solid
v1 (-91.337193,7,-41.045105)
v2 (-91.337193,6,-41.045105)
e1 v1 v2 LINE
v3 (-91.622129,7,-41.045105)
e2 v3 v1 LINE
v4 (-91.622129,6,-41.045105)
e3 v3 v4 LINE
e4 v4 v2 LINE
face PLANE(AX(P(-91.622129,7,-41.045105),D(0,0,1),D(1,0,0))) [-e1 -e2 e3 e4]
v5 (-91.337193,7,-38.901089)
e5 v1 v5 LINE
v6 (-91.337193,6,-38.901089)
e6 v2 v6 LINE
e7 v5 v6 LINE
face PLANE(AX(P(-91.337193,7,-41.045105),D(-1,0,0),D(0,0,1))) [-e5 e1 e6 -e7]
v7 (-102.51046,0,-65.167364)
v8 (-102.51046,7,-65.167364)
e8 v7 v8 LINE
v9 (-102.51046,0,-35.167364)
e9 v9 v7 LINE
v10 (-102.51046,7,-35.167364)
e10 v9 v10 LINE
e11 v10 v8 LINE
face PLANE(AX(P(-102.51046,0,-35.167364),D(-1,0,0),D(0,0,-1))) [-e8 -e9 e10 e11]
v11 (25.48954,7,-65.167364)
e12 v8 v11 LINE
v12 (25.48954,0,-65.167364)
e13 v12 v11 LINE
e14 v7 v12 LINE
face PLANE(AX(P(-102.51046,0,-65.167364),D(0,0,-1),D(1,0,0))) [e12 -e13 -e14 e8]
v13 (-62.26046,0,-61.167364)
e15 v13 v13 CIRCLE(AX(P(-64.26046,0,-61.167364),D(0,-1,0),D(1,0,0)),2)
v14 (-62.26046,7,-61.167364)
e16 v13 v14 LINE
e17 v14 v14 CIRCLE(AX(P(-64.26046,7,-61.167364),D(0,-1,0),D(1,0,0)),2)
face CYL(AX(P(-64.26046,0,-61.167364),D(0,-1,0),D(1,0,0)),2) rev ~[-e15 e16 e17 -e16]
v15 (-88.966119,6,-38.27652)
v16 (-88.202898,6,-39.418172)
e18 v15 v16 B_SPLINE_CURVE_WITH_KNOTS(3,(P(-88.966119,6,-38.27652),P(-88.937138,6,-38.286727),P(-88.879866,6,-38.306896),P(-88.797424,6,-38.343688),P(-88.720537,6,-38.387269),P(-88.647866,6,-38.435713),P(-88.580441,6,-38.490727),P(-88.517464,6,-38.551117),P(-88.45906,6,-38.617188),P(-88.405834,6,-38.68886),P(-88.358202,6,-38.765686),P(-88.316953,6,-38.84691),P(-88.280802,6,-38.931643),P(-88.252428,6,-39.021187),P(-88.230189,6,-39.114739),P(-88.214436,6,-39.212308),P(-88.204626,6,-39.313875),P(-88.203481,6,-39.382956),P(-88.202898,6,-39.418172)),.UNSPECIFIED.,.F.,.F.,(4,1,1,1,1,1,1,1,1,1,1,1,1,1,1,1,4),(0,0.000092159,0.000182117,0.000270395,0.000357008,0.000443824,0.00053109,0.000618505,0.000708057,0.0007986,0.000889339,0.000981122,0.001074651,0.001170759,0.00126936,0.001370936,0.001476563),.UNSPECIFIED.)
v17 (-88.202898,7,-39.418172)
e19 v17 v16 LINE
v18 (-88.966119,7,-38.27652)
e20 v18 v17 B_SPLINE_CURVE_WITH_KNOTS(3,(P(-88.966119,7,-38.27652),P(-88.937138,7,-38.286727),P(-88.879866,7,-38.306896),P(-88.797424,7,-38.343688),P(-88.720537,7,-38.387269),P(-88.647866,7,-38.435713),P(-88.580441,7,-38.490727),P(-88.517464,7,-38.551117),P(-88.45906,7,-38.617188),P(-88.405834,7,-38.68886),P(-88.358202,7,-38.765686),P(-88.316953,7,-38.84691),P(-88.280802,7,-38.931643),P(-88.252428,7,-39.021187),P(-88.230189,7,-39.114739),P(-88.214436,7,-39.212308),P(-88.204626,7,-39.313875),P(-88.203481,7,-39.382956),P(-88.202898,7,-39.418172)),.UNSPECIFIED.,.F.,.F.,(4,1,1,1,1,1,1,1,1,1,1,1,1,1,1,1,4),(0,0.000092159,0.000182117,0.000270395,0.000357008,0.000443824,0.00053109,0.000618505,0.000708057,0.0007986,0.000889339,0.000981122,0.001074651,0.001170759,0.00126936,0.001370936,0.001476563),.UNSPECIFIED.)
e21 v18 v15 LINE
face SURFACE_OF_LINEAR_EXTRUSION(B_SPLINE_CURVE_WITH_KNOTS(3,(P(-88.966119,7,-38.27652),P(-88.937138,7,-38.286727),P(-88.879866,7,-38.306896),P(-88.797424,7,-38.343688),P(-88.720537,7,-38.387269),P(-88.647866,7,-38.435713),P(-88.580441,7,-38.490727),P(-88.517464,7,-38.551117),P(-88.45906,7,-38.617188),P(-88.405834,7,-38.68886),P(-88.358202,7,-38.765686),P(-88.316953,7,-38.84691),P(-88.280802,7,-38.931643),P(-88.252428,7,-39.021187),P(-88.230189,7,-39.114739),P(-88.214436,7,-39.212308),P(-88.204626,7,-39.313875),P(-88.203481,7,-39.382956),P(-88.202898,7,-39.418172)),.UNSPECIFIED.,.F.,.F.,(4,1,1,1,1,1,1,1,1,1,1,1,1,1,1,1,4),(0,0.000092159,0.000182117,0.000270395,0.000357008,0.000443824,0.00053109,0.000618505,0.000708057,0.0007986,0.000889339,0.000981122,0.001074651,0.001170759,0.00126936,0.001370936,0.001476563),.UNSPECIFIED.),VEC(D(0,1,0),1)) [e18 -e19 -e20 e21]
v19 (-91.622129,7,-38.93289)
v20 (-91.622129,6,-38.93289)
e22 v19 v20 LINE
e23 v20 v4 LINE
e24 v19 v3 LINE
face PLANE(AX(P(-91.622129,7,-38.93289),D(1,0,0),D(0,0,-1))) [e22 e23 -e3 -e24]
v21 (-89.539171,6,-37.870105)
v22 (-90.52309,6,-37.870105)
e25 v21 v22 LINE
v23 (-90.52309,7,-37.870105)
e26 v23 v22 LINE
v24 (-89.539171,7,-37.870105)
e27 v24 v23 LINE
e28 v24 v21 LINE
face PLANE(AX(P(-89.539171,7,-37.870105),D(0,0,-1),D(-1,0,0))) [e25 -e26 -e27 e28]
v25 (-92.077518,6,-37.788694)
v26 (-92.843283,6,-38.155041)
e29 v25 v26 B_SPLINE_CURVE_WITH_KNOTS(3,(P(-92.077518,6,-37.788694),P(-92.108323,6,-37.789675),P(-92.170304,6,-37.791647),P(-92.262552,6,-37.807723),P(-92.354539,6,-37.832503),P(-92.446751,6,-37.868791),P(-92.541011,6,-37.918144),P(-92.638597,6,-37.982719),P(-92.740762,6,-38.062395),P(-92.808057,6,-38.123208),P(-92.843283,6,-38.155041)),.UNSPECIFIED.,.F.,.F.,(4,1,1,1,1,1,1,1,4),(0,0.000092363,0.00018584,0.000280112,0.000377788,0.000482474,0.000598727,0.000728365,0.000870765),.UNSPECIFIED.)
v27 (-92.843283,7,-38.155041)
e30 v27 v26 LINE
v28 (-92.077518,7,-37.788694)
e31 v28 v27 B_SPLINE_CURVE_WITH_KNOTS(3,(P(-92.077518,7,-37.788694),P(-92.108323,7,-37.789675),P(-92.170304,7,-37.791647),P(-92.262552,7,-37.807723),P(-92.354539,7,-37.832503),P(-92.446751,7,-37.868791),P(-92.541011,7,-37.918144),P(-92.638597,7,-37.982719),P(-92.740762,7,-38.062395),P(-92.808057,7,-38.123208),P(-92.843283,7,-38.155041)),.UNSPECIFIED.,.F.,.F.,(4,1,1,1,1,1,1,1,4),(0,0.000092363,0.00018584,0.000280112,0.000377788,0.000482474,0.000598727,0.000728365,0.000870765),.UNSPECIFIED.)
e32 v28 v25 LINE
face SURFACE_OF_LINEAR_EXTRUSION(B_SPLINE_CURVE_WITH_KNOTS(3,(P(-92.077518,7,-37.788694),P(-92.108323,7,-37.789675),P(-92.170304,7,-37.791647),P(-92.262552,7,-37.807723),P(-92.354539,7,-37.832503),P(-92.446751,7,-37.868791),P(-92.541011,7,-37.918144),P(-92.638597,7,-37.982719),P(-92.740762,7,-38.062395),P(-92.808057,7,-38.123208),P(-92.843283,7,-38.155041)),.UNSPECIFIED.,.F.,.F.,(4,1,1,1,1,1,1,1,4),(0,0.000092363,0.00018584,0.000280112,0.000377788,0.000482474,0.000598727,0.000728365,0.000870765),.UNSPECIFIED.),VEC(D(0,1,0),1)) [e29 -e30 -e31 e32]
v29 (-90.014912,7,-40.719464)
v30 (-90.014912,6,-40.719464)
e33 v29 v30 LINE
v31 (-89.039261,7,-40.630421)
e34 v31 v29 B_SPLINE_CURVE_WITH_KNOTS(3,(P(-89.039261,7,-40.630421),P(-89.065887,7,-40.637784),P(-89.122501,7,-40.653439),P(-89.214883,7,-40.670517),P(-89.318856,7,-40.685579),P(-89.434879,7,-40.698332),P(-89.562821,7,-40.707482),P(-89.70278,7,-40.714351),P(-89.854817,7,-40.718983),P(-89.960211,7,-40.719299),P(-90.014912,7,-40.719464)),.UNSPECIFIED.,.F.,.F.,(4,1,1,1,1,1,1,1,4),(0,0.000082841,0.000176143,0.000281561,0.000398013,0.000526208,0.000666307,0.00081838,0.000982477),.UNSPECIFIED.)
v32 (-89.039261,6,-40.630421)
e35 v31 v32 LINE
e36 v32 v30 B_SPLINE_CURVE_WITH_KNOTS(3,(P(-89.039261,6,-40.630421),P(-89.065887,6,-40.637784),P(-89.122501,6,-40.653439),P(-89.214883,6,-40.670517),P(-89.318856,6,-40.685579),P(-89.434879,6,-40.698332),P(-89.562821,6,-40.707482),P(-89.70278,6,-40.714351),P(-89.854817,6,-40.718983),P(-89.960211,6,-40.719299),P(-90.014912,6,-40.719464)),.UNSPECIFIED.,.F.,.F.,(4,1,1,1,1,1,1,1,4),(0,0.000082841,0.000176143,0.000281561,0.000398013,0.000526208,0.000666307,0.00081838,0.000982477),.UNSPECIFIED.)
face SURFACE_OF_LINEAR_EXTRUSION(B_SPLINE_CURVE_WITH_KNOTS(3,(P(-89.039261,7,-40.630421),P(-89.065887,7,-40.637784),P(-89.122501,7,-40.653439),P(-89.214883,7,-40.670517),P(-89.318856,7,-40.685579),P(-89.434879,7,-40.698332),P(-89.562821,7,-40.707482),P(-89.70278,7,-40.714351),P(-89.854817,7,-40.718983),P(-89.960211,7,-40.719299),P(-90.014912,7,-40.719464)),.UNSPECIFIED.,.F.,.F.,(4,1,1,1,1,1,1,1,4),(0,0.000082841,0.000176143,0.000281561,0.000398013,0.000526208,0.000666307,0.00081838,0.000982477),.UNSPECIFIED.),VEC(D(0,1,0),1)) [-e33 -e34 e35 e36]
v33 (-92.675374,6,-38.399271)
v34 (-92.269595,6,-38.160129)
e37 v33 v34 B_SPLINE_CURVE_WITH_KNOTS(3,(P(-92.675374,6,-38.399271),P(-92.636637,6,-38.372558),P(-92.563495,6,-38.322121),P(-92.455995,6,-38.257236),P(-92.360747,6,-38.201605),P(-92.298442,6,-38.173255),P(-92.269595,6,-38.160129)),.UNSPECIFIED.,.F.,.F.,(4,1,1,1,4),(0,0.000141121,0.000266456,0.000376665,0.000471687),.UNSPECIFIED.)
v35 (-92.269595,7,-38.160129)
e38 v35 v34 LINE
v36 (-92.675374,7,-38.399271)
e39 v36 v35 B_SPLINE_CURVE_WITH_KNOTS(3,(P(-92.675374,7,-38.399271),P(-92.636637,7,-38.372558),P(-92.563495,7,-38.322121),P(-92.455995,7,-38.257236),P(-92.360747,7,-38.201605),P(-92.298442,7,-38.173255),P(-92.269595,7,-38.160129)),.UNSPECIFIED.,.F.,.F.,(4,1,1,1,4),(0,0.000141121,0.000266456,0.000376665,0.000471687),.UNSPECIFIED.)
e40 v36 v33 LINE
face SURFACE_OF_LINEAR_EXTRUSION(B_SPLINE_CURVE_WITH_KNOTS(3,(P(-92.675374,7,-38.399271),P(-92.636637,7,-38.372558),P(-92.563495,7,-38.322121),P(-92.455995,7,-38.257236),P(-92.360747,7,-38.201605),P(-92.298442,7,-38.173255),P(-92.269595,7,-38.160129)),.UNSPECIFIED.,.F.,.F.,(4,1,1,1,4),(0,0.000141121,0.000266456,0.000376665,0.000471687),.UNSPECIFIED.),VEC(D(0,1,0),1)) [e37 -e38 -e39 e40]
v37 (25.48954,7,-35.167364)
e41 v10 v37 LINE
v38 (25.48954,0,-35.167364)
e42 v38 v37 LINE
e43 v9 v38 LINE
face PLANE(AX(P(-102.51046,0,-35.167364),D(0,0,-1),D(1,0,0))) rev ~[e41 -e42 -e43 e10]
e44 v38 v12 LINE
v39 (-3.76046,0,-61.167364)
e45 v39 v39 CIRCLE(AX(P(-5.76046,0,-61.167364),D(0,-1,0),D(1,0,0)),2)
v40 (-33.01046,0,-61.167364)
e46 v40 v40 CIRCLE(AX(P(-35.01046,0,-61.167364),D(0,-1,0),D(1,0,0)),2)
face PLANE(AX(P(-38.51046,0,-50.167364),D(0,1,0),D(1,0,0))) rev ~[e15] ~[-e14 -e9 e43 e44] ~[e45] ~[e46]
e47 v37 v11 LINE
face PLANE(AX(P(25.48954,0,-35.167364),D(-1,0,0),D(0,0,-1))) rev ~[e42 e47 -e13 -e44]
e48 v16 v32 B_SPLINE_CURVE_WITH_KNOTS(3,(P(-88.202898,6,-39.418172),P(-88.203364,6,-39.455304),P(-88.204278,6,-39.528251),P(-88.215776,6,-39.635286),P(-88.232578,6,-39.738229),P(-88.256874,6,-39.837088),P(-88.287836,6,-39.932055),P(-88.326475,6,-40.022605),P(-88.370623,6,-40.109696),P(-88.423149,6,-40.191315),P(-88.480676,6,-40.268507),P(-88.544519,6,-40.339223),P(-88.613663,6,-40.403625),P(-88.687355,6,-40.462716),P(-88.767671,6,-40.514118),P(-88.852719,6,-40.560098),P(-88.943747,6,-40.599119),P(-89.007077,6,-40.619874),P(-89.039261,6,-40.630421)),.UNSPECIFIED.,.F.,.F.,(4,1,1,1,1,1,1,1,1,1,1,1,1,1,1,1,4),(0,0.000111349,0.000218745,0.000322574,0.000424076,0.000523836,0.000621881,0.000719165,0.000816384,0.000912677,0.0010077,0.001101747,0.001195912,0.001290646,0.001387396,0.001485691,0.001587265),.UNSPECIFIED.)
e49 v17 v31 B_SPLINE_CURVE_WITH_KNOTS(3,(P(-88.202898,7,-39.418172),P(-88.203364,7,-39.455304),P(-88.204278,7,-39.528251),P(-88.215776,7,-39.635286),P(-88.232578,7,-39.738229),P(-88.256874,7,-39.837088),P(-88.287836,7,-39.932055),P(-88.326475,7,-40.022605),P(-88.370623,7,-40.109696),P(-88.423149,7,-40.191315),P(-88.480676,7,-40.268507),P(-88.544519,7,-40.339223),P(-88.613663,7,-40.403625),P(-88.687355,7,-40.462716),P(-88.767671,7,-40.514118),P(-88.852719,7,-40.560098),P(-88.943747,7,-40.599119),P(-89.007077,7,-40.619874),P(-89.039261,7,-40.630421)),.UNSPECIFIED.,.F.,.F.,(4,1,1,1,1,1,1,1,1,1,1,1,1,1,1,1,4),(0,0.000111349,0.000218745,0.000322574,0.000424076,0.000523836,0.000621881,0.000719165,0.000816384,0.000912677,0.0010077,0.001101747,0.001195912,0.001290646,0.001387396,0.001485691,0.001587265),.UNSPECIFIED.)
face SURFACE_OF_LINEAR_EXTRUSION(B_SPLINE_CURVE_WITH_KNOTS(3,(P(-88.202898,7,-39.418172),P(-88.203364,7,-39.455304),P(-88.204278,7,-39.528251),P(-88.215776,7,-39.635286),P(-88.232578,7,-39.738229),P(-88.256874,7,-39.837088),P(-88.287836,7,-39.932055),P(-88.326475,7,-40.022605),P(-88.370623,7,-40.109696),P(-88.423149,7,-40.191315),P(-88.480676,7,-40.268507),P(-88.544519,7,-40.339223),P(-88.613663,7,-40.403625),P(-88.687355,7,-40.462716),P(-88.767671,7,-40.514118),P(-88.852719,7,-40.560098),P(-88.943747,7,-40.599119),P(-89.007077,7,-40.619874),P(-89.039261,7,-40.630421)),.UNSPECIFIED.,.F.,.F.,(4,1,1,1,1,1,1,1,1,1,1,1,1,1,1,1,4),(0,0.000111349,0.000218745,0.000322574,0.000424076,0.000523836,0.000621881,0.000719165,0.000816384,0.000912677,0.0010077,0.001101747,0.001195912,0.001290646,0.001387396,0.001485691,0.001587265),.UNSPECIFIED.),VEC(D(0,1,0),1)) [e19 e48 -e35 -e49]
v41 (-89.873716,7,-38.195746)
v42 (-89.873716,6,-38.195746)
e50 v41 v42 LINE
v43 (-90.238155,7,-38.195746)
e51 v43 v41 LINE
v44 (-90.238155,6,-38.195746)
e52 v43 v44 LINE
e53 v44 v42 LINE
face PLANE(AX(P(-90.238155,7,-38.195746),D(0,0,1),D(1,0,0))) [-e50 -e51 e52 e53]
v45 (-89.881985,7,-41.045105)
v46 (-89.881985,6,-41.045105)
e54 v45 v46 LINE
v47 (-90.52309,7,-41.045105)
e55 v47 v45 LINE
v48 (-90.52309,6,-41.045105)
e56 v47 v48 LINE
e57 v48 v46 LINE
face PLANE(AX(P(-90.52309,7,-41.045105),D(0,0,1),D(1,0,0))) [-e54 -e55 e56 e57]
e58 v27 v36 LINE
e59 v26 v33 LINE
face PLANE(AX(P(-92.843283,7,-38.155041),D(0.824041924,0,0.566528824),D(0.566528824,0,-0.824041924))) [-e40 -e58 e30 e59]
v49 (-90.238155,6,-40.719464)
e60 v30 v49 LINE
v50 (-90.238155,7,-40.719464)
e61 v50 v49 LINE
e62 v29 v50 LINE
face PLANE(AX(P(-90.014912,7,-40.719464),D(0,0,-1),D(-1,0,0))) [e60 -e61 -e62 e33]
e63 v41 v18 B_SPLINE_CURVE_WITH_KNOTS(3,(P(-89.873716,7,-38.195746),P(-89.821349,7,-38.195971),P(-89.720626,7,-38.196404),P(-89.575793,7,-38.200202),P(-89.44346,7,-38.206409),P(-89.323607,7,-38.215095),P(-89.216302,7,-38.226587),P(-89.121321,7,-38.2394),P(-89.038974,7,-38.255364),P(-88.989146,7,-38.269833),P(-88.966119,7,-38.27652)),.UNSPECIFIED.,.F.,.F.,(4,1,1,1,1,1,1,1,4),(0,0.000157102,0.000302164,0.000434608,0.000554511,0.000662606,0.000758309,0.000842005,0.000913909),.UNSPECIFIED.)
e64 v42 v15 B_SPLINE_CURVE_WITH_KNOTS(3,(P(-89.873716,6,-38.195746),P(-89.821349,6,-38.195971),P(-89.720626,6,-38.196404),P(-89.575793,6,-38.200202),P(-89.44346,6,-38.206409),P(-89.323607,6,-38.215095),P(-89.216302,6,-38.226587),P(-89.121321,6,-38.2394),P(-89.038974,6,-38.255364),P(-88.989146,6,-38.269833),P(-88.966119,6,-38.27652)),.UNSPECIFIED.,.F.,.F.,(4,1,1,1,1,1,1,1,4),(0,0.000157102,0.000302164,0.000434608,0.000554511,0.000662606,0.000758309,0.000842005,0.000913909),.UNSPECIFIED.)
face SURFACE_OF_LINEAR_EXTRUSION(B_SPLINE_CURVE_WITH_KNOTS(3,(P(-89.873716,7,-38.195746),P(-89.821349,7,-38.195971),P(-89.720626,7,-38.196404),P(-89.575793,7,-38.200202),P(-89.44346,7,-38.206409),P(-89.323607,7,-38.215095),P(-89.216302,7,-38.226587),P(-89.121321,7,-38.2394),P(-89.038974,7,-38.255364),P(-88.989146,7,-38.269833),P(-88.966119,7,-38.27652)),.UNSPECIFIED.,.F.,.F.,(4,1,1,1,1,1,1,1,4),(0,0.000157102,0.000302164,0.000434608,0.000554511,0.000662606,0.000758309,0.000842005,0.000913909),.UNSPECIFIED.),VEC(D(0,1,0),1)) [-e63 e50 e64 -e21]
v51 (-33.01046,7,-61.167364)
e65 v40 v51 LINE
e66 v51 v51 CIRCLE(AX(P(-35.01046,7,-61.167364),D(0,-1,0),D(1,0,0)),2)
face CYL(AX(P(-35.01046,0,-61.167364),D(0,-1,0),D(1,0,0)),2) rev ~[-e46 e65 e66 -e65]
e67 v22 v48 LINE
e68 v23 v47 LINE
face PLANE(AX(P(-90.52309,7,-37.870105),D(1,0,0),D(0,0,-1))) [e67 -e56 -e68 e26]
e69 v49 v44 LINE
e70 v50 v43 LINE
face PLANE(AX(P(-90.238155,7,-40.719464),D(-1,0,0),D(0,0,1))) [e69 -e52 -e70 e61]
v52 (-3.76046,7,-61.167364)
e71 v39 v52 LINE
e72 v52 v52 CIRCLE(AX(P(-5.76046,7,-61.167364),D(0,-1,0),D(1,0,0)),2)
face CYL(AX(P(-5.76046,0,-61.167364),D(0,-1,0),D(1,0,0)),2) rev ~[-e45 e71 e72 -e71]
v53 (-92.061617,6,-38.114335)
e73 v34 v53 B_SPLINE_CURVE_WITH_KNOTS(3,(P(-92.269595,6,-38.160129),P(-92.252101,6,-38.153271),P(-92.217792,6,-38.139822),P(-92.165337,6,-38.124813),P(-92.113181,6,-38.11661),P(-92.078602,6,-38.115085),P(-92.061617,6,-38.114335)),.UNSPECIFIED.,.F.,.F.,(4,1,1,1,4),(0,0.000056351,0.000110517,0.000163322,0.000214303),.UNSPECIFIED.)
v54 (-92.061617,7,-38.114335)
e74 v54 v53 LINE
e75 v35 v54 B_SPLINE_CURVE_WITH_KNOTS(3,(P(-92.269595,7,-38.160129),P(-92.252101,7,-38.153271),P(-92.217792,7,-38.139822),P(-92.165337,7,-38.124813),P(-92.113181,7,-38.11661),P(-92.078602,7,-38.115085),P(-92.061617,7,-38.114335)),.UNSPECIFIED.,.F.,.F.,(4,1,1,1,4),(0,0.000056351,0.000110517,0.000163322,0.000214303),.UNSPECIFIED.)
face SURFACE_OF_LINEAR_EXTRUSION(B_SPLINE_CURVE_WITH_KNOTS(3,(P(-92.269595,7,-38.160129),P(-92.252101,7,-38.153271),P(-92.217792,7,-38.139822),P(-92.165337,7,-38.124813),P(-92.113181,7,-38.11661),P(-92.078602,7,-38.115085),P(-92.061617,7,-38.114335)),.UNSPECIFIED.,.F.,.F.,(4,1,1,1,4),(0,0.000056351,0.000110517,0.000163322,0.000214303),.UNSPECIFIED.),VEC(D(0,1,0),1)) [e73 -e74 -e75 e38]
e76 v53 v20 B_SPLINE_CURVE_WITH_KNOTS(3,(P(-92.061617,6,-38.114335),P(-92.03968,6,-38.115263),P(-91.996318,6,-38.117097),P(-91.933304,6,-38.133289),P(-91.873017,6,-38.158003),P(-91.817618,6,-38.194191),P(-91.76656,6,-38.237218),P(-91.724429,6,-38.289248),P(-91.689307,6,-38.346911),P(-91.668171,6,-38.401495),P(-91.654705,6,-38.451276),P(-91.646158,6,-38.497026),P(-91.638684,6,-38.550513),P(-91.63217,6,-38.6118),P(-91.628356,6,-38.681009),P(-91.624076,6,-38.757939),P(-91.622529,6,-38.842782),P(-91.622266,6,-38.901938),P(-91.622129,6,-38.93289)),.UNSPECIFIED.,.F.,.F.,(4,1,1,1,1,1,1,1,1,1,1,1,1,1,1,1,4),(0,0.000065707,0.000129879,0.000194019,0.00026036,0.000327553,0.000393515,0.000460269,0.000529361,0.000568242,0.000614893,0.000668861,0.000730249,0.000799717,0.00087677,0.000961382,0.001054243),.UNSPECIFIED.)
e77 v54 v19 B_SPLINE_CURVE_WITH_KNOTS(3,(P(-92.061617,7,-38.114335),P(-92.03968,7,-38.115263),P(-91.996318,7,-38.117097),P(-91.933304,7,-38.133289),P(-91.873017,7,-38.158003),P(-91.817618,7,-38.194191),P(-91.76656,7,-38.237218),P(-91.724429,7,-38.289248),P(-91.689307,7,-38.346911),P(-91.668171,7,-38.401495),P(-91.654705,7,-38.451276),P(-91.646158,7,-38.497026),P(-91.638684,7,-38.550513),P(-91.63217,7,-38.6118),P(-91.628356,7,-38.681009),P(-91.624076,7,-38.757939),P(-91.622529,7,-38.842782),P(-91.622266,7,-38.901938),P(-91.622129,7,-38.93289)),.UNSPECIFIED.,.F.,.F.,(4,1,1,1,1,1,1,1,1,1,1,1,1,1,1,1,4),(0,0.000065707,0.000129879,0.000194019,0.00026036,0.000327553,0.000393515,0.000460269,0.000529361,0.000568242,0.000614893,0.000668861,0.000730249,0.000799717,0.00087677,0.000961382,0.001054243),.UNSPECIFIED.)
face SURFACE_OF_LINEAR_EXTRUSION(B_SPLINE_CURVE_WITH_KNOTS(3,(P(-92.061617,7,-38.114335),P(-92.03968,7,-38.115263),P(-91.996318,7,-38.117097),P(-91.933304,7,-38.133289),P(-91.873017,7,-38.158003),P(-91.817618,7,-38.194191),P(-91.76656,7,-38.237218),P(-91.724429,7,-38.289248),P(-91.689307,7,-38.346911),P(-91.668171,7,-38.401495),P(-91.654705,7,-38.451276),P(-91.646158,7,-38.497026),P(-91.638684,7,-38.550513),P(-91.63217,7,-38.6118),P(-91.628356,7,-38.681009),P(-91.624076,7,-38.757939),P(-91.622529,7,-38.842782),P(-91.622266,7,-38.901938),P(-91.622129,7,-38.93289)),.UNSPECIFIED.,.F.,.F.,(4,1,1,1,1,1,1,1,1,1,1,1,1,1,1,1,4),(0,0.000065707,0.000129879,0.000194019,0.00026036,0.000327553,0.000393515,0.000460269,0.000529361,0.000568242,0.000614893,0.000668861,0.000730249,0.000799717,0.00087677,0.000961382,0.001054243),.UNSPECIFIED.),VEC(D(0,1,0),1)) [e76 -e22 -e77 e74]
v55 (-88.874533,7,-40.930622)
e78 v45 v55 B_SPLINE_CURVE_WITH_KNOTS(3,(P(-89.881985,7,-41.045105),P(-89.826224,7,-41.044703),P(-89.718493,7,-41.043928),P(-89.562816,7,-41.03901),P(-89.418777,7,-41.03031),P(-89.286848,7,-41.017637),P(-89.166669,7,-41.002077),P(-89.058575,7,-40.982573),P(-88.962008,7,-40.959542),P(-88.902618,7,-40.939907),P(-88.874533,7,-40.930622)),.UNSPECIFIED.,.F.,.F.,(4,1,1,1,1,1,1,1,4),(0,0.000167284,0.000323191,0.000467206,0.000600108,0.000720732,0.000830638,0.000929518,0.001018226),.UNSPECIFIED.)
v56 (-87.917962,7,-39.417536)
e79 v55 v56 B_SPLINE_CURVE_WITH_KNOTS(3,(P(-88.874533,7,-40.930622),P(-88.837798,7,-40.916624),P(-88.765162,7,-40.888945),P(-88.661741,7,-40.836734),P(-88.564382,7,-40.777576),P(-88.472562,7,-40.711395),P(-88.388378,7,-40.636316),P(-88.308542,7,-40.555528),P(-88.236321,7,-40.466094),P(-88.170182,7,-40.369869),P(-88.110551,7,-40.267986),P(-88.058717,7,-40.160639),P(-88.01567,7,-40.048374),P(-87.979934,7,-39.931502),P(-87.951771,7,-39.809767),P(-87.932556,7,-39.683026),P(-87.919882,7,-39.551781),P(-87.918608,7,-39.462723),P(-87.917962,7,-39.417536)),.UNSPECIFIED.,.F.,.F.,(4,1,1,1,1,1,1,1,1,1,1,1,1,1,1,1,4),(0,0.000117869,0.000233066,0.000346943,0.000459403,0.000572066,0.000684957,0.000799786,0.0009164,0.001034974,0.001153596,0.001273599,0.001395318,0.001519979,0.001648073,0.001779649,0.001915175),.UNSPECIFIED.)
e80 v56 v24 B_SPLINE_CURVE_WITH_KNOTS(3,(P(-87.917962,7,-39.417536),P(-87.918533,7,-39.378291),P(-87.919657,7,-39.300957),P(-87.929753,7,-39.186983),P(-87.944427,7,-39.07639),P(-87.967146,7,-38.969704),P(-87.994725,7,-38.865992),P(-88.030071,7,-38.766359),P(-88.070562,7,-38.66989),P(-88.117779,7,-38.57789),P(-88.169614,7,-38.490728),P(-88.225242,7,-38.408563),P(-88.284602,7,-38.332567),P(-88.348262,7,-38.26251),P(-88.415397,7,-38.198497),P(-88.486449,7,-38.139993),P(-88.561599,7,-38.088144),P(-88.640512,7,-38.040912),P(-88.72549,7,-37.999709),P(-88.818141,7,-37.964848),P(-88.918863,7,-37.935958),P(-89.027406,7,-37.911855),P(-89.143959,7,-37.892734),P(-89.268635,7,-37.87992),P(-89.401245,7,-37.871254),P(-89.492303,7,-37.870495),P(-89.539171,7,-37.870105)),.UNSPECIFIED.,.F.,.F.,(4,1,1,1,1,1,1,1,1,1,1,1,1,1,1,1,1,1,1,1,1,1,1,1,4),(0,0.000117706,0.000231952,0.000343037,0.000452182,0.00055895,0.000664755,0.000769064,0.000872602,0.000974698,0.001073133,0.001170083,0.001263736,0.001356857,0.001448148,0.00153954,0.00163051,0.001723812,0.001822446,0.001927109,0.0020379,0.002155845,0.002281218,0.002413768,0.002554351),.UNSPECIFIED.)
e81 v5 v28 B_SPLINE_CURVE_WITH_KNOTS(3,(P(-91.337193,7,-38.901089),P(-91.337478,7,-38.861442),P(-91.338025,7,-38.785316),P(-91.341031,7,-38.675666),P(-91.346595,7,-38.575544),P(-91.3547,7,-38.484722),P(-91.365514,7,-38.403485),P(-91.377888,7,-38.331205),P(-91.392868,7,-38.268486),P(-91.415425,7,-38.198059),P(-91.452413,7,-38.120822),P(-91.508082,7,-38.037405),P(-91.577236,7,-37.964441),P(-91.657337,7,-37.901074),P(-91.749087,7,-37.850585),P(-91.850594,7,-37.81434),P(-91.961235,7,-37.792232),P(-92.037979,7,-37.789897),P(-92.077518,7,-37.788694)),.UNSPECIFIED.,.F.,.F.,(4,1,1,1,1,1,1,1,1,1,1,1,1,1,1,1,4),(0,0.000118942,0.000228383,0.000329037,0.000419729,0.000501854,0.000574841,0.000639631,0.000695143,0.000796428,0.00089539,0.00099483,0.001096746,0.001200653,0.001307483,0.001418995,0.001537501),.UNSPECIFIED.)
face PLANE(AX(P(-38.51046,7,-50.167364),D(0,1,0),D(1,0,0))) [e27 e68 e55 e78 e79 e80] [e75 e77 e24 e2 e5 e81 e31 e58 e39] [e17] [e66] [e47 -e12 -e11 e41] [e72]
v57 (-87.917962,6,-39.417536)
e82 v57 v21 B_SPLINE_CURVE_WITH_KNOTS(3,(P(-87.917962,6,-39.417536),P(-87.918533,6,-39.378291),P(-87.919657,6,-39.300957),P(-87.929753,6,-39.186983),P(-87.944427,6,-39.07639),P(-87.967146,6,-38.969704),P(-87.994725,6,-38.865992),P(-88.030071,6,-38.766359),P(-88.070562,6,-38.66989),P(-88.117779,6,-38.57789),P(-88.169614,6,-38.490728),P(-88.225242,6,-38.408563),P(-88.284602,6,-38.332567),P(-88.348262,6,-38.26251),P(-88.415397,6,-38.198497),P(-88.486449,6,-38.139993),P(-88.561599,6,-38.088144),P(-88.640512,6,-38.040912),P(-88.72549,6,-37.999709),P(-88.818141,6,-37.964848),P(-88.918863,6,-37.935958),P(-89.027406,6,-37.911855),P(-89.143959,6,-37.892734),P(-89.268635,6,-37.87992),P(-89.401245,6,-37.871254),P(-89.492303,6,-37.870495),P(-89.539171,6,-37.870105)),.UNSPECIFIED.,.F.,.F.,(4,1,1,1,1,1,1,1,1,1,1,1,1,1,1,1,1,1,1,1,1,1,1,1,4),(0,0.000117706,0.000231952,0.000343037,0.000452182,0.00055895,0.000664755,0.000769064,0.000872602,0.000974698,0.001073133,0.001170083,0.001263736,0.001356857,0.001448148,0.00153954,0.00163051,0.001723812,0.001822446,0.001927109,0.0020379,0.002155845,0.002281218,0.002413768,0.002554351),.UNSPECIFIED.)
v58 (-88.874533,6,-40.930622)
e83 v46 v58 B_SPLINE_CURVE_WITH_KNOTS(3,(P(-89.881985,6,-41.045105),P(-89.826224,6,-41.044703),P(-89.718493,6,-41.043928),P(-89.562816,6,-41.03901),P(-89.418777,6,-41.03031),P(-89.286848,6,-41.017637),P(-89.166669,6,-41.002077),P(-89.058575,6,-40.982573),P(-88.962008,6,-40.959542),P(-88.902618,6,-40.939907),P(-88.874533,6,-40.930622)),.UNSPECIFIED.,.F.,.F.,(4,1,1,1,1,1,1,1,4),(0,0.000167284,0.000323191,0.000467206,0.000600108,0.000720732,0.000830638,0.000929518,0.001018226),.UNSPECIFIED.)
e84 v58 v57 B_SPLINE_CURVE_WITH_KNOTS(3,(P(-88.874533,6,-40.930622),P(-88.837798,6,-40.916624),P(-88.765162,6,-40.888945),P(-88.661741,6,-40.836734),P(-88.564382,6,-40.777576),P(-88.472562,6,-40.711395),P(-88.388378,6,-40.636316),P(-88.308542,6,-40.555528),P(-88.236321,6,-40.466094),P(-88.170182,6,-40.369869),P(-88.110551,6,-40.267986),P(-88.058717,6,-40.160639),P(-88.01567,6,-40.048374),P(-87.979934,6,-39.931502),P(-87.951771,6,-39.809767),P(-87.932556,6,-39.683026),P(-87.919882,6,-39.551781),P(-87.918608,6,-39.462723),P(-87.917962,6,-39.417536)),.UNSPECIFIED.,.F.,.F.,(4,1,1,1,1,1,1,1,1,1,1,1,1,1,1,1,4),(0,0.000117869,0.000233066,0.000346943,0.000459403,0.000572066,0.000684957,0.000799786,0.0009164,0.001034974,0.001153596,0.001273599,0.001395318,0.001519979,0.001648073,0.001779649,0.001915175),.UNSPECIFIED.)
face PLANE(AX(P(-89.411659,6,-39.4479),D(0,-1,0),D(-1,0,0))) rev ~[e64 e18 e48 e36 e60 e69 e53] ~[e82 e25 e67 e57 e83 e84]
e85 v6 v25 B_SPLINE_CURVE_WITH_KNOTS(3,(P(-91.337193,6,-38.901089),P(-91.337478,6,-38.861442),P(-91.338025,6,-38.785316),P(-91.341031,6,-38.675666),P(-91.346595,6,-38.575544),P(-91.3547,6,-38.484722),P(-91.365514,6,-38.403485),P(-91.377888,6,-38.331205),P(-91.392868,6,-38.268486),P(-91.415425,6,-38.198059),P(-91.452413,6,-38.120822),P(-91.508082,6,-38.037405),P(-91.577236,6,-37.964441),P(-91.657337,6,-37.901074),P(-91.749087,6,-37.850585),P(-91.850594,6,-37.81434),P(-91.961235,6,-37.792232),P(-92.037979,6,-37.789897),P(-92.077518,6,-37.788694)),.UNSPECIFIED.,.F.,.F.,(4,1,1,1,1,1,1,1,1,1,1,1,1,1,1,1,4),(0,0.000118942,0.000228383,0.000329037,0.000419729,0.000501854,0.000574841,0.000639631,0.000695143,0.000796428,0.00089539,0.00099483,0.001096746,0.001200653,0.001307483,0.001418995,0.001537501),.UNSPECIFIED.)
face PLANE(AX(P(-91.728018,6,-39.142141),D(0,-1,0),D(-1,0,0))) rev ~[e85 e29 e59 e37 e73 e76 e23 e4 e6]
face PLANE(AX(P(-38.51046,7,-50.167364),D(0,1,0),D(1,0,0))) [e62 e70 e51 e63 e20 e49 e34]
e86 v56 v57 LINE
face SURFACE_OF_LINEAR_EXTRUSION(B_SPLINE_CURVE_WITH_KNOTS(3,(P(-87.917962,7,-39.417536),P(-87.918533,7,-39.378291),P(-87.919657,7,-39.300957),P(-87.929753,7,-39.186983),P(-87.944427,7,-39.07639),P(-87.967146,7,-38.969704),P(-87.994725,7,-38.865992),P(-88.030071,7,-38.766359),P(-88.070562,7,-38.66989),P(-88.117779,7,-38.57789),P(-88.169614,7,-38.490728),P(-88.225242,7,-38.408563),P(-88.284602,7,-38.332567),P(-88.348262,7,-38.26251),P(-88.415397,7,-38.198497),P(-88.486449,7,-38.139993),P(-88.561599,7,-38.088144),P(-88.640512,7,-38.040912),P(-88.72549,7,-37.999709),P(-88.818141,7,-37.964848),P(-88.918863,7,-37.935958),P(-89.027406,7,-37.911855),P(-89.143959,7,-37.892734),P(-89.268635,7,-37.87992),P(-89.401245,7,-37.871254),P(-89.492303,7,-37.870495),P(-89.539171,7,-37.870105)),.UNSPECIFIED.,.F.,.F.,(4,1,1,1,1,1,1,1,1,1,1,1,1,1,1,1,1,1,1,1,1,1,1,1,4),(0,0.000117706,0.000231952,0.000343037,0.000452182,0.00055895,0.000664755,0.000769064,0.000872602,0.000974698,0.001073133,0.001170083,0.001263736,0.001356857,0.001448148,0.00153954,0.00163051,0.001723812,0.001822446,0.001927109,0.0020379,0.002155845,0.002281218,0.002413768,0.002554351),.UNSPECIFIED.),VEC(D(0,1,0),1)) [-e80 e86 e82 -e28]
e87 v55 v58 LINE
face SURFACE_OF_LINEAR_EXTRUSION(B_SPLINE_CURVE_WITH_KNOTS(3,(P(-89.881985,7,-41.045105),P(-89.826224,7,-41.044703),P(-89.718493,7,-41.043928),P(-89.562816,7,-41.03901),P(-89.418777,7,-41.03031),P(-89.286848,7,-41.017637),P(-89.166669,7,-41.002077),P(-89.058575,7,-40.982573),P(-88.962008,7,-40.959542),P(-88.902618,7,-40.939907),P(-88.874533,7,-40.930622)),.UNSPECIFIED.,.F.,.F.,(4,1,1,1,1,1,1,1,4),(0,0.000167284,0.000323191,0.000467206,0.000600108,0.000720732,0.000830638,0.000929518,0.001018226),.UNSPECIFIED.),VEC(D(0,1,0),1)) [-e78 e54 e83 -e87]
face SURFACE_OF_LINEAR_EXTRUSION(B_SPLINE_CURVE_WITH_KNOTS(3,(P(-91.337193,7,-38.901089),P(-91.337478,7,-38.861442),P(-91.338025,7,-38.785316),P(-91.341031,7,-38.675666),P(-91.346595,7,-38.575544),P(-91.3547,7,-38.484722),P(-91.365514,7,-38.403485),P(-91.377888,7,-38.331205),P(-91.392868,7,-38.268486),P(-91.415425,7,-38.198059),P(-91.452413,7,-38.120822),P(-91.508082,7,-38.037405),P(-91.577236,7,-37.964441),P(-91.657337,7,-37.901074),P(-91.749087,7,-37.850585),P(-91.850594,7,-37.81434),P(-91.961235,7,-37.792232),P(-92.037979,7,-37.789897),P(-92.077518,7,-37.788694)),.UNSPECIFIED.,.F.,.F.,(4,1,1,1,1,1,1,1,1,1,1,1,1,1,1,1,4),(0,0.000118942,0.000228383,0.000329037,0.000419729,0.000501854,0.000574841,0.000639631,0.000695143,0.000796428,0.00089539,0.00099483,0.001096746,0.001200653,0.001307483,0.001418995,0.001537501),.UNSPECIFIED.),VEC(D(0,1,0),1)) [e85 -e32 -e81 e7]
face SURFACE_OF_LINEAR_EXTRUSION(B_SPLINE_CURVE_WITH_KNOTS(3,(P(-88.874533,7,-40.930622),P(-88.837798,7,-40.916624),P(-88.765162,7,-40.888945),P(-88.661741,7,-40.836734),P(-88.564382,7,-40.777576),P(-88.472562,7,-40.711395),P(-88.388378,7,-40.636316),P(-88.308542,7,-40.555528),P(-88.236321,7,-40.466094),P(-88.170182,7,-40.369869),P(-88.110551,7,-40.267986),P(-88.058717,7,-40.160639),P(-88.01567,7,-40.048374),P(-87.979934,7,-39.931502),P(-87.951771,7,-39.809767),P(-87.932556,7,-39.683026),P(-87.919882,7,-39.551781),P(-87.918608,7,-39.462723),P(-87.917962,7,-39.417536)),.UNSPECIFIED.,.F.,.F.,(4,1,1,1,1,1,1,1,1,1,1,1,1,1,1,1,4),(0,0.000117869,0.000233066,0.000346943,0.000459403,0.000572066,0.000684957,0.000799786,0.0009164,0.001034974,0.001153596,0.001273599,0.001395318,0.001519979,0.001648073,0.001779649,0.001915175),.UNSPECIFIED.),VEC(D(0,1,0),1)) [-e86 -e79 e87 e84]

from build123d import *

# Parameters (mm, degrees)
SKETCH1_W           = 128
SKETCH1_H           = 30
BOSS_EXTRUDE1_DEPTH = 7
SKETCH2_R           = 2
CUT_EXTRUDE1_DEPTH  = 10
CUT_EXTRUDE2_DEPTH  = 1


with BuildPart() as part:
    # Sketch1 → Boss-Extrude1 (new body)
    with BuildSketch(Plane(origin=(0, 0, 0), x_dir=(1, 0, 0), z_dir=(0, 1, 0))):
        with Locations((-38.510460251, 50.167364017)):
            Rectangle(SKETCH1_W, SKETCH1_H)
    extrude(amount=BOSS_EXTRUDE1_DEPTH)

    # Sketch2 → Cut-Extrude1 (cut)
    with BuildSketch(Plane.XZ):
        with Locations((-64.260460251, -61.167364017)):
            Circle(SKETCH2_R)
        with Locations((-35.010460251, -61.167364017)):
            Circle(SKETCH2_R)
        with Locations((-5.760460251, -61.167364017)):
            Circle(SKETCH2_R)
    extrude(amount=-CUT_EXTRUDE1_DEPTH, mode=Mode.SUBTRACT)

    # Sketch3 → Cut-Extrude2 (cut)
    with BuildSketch(Plane(origin=(0, 7, 0), x_dir=(1, 0, 0), z_dir=(0, 1, 0))):
        with BuildLine():
            Line((-91.622128911, 41.045104689), (-91.337193013, 41.045104689))
            Line((-91.337193013, 41.045104689), (-91.337193013, 38.901089264))
            add(Edge.make_bspline(
                [(-91.337193013, 38.901089264), (-91.337477782, 38.861442431), (-91.338024574, 38.785315673), (-91.341031218, 38.675665781), (-91.346595158, 38.575543802), (-91.354700491, 38.484722068), (-91.365513845, 38.403485107), (-91.377888206, 38.331205218), (-91.392867674, 38.268485649), (-91.415425111, 38.19805929), (-91.452412907, 38.120821696), (-91.508081578, 38.037405238), (-91.577235614, 37.964440644), (-91.657337266, 37.901074244), (-91.749086623, 37.850585184), (-91.850594294, 37.814340129), (-91.961235412, 37.792232281), (-92.037978983, 37.789897381), (-92.077517533, 37.788694433)],
                knots=[0, 0, 0, 0, 0.000118942, 0.000228383, 0.000329037, 0.000419729, 0.000501854, 0.000574841, 0.000639631, 0.000695143, 0.000796428, 0.00089539, 0.00099483, 0.001096746, 0.001200653, 0.001307483, 0.001418995, 0.001537501, 0.001537501, 0.001537501, 0.001537501], degree=3))
            add(Edge.make_bspline(
                [(-92.077517533, 37.788694433), (-92.108322615, 37.7896747), (-92.17030448, 37.791647061), (-92.26255248, 37.807723187), (-92.354538559, 37.83250274), (-92.446750944, 37.868790809), (-92.54101147, 37.918144459), (-92.638596771, 37.982719257), (-92.740762094, 38.062394999), (-92.808056932, 38.123207811), (-92.843282757, 38.155040587)],
                knots=[0, 0, 0, 0, 9.2363e-05, 0.00018584, 0.000280112, 0.000377788, 0.000482474, 0.000598727, 0.000728365, 0.000870765, 0.000870765, 0.000870765, 0.000870765], degree=3))
            Line((-92.843282757, 38.155040587), (-92.675374103, 38.399271356))
            add(Edge.make_bspline(
                [(-92.675374103, 38.399271356), (-92.636636673, 38.372558361), (-92.563495353, 38.322120743), (-92.455994896, 38.257235898), (-92.360747479, 38.201605212), (-92.298442234, 38.17325493), (-92.269594856, 38.160128728)],
                knots=[0, 0, 0, 0, 0.000141121, 0.000266456, 0.000376665, 0.000471687, 0.000471687, 0.000471687, 0.000471687], degree=3))
            add(Edge.make_bspline(
                [(-92.269594856, 38.160128728), (-92.252101231, 38.15327122), (-92.217792336, 38.13982212), (-92.165336728, 38.124812627), (-92.113180516, 38.116609869), (-92.078602322, 38.11508466), (-92.061617092, 38.114335458)],
                knots=[0, 0, 0, 0, 5.6351e-05, 0.000110517, 0.000163322, 0.000214303, 0.000214303, 0.000214303, 0.000214303], degree=3))
            add(Edge.make_bspline(
                [(-92.061617092, 38.114335458), (-92.039679848, 38.115263225), (-91.996318006, 38.117097078), (-91.93330424, 38.13328892), (-91.873017311, 38.158003486), (-91.817618408, 38.194190588), (-91.766559521, 38.237217663), (-91.724429243, 38.289247756), (-91.689307171, 38.346911185), (-91.668171021, 38.401495289), (-91.654704692, 38.451276232), (-91.646157931, 38.497026291), (-91.638684289, 38.550512775), (-91.632169595, 38.611799528), (-91.62835554, 38.681009251), (-91.624076299, 38.757938723), (-91.622529384, 38.842781901), (-91.622266475, 38.90193755), (-91.622128911, 38.932890146)],
                knots=[0, 0, 0, 0, 6.5707e-05, 0.000129879, 0.000194019, 0.00026036, 0.000327553, 0.000393515, 0.000460269, 0.000529361, 0.000568242, 0.000614893, 0.000668861, 0.000730249, 0.000799717, 0.00087677, 0.000961382, 0.001054243, 0.001054243, 0.001054243, 0.001054243], degree=3))
            Line((-91.622128911, 38.932890146), (-91.622128911, 41.045104689))
        make_face()
        with BuildLine():
            Line((-90.523090449, 37.870104689), (-90.523090449, 41.045104689))
            Line((-90.523090449, 41.045104689), (-89.88198468, 41.045104689))
            add(Edge.make_bspline(
                [(-89.88198468, 41.045104689), (-89.826223526, 41.044703215), (-89.718493268, 41.043927569), (-89.562816262, 41.039009593), (-89.418776706, 41.03030967), (-89.286848327, 41.017637314), (-89.166668942, 41.002077062), (-89.058575061, 40.982573124), (-88.96200776, 40.959542427), (-88.902617625, 40.939906911), (-88.874532757, 40.930621516)],
                knots=[0, 0, 0, 0, 0.000167284, 0.000323191, 0.000467206, 0.000600108, 0.000720732, 0.000830638, 0.000929518, 0.001018226, 0.001018226, 0.001018226, 0.001018226], degree=3))
            add(Edge.make_bspline(
                [(-88.874532757, 40.930621516), (-88.837798243, 40.916623662), (-88.765162233, 40.888945378), (-88.661741486, 40.83673359), (-88.56438205, 40.777575991), (-88.472561826, 40.711394601), (-88.388378219, 40.636315513), (-88.308542484, 40.555528014), (-88.236320556, 40.466094306), (-88.170182316, 40.369869138), (-88.110550682, 40.267986062), (-88.058717303, 40.160639213), (-88.015669752, 40.048373746), (-87.979934468, 39.931501862), (-87.951770896, 39.809766576), (-87.932555858, 39.683026141), (-87.919882174, 39.551781447), (-87.918608499, 39.462723184), (-87.917962244, 39.417535579)],
                knots=[0, 0, 0, 0, 0.000117869, 0.000233066, 0.000346943, 0.000459403, 0.000572066, 0.000684957, 0.000799786, 0.0009164, 0.001034974, 0.001153596, 0.001273599, 0.001395318, 0.001519979, 0.001648073, 0.001779649, 0.001915175, 0.001915175, 0.001915175, 0.001915175], degree=3))
            add(Edge.make_bspline(
                [(-87.917962244, 39.417535579), (-87.918532808, 39.378291455), (-87.919657162, 39.300956811), (-87.929753042, 39.18698257), (-87.944427275, 39.076389544), (-87.96714594, 38.969704374), (-87.994725363, 38.865992347), (-88.030071414, 38.766358811), (-88.070562186, 38.669889784), (-88.117778861, 38.577889646), (-88.169614261, 38.490728301), (-88.225241842, 38.408563357), (-88.284602273, 38.332567263), (-88.348261597, 38.262509879), (-88.415397168, 38.198496819), (-88.486448525, 38.139993348), (-88.561599007, 38.088144188), (-88.64051202, 38.040911882), (-88.725489651, 37.999709131), (-88.818141473, 37.964847622), (-88.918862613, 37.935958193), (-89.027405845, 37.911854594), (-89.143958714, 37.89273447), (-89.268635491, 37.879919814), (-89.401244618, 37.871253939), (-89.492302951, 37.870495211), (-89.539171178, 37.870104689)],
                knots=[0, 0, 0, 0, 0.000117706, 0.000231952, 0.000343037, 0.000452182, 0.00055895, 0.000664755, 0.000769064, 0.000872602, 0.000974698, 0.001073133, 0.001170083, 0.001263736, 0.001356857, 0.001448148, 0.00153954, 0.00163051, 0.001723812, 0.001822446, 0.001927109, 0.0020379, 0.002155845, 0.002281218, 0.002413768, 0.002554351, 0.002554351, 0.002554351, 0.002554351], degree=3))
            Line((-89.539171178, 37.870104689), (-90.523090449, 37.870104689))
        make_face()
        with BuildLine():
            Line((-90.238154552, 38.195745715), (-89.873716451, 38.195745715))
            add(Edge.make_bspline(
                [(-89.873716451, 38.195745715), (-89.821348572, 38.195970774), (-89.720625962, 38.196403644), (-89.57579335, 38.200202036), (-89.443459897, 38.20640865), (-89.323606814, 38.215094614), (-89.21630177, 38.226586858), (-89.121320512, 38.239400162), (-89.038974384, 38.255363564), (-88.989145538, 38.269833363), (-88.966119295, 38.276519954)],
                knots=[0, 0, 0, 0, 0.000157102, 0.000302164, 0.000434608, 0.000554511, 0.000662606, 0.000758309, 0.000842005, 0.000913909, 0.000913909, 0.000913909, 0.000913909], degree=3))
            add(Edge.make_bspline(
                [(-88.966119295, 38.276519954), (-88.937137567, 38.286726724), (-88.879866338, 38.306896477), (-88.797424211, 38.34368807), (-88.720537499, 38.38726909), (-88.647866262, 38.435712582), (-88.580441368, 38.490727169), (-88.517463776, 38.551116566), (-88.459060285, 38.617188112), (-88.405834306, 38.688859802), (-88.358201773, 38.765685545), (-88.316952872, 38.846910058), (-88.28080184, 38.931643379), (-88.252427688, 39.021186687), (-88.230188551, 39.114739476), (-88.214436298, 39.212308326), (-88.204625798, 39.313875018), (-88.203481484, 39.382955873), (-88.202898142, 39.418171596)],
                knots=[0, 0, 0, 0, 9.2159e-05, 0.000182117, 0.000270395, 0.000357008, 0.000443824, 0.00053109, 0.000618505, 0.000708057, 0.0007986, 0.000889339, 0.000981122, 0.001074651, 0.001170759, 0.00126936, 0.001370936, 0.001476563, 0.001476563, 0.001476563, 0.001476563], degree=3))
            add(Edge.make_bspline(
                [(-88.202898142, 39.418171596), (-88.203363767, 39.45530411), (-88.204278491, 39.528251263), (-88.215775901, 39.63528568), (-88.232577598, 39.738228841), (-88.256874227, 39.837087633), (-88.28783581, 39.932054924), (-88.326475235, 40.02260548), (-88.370622811, 40.109695611), (-88.42314941, 40.191315214), (-88.480676412, 40.26850682), (-88.544519203, 40.339223065), (-88.613663481, 40.403625037), (-88.687355094, 40.462715699), (-88.767670891, 40.514117748), (-88.852718882, 40.560097809), (-88.943746741, 40.599119367), (-89.007076829, 40.619873764), (-89.039261323, 40.630421196)],
                knots=[0, 0, 0, 0, 0.000111349, 0.000218745, 0.000322574, 0.000424076, 0.000523836, 0.000621881, 0.000719165, 0.000816384, 0.000912677, 0.0010077, 0.001101747, 0.001195912, 0.001290646, 0.001387396, 0.001485691, 0.001587265, 0.001587265, 0.001587265, 0.001587265], degree=3))
            add(Edge.make_bspline(
                [(-89.039261323, 40.630421196), (-89.065887005, 40.637783955), (-89.122500512, 40.653439202), (-89.214883455, 40.670516504), (-89.318855769, 40.685579157), (-89.434879069, 40.698331807), (-89.5628211, 40.707482448), (-89.70278026, 40.714350712), (-89.854817044, 40.718983158), (-89.9602112, 40.719299485), (-90.014912364, 40.719463664)],
                knots=[0, 0, 0, 0, 8.2841e-05, 0.000176143, 0.000281561, 0.000398013, 0.000526208, 0.000666307, 0.00081838, 0.000982477, 0.000982477, 0.000982477, 0.000982477], degree=3))
            Line((-90.014912364, 40.719463664), (-90.238154552, 40.719463664))
            Line((-90.238154552, 40.719463664), (-90.238154552, 38.195745715))
        make_face(mode=Mode.SUBTRACT)
    extrude(amount=-CUT_EXTRUDE2_DEPTH, mode=Mode.SUBTRACT)


solid = part.part
